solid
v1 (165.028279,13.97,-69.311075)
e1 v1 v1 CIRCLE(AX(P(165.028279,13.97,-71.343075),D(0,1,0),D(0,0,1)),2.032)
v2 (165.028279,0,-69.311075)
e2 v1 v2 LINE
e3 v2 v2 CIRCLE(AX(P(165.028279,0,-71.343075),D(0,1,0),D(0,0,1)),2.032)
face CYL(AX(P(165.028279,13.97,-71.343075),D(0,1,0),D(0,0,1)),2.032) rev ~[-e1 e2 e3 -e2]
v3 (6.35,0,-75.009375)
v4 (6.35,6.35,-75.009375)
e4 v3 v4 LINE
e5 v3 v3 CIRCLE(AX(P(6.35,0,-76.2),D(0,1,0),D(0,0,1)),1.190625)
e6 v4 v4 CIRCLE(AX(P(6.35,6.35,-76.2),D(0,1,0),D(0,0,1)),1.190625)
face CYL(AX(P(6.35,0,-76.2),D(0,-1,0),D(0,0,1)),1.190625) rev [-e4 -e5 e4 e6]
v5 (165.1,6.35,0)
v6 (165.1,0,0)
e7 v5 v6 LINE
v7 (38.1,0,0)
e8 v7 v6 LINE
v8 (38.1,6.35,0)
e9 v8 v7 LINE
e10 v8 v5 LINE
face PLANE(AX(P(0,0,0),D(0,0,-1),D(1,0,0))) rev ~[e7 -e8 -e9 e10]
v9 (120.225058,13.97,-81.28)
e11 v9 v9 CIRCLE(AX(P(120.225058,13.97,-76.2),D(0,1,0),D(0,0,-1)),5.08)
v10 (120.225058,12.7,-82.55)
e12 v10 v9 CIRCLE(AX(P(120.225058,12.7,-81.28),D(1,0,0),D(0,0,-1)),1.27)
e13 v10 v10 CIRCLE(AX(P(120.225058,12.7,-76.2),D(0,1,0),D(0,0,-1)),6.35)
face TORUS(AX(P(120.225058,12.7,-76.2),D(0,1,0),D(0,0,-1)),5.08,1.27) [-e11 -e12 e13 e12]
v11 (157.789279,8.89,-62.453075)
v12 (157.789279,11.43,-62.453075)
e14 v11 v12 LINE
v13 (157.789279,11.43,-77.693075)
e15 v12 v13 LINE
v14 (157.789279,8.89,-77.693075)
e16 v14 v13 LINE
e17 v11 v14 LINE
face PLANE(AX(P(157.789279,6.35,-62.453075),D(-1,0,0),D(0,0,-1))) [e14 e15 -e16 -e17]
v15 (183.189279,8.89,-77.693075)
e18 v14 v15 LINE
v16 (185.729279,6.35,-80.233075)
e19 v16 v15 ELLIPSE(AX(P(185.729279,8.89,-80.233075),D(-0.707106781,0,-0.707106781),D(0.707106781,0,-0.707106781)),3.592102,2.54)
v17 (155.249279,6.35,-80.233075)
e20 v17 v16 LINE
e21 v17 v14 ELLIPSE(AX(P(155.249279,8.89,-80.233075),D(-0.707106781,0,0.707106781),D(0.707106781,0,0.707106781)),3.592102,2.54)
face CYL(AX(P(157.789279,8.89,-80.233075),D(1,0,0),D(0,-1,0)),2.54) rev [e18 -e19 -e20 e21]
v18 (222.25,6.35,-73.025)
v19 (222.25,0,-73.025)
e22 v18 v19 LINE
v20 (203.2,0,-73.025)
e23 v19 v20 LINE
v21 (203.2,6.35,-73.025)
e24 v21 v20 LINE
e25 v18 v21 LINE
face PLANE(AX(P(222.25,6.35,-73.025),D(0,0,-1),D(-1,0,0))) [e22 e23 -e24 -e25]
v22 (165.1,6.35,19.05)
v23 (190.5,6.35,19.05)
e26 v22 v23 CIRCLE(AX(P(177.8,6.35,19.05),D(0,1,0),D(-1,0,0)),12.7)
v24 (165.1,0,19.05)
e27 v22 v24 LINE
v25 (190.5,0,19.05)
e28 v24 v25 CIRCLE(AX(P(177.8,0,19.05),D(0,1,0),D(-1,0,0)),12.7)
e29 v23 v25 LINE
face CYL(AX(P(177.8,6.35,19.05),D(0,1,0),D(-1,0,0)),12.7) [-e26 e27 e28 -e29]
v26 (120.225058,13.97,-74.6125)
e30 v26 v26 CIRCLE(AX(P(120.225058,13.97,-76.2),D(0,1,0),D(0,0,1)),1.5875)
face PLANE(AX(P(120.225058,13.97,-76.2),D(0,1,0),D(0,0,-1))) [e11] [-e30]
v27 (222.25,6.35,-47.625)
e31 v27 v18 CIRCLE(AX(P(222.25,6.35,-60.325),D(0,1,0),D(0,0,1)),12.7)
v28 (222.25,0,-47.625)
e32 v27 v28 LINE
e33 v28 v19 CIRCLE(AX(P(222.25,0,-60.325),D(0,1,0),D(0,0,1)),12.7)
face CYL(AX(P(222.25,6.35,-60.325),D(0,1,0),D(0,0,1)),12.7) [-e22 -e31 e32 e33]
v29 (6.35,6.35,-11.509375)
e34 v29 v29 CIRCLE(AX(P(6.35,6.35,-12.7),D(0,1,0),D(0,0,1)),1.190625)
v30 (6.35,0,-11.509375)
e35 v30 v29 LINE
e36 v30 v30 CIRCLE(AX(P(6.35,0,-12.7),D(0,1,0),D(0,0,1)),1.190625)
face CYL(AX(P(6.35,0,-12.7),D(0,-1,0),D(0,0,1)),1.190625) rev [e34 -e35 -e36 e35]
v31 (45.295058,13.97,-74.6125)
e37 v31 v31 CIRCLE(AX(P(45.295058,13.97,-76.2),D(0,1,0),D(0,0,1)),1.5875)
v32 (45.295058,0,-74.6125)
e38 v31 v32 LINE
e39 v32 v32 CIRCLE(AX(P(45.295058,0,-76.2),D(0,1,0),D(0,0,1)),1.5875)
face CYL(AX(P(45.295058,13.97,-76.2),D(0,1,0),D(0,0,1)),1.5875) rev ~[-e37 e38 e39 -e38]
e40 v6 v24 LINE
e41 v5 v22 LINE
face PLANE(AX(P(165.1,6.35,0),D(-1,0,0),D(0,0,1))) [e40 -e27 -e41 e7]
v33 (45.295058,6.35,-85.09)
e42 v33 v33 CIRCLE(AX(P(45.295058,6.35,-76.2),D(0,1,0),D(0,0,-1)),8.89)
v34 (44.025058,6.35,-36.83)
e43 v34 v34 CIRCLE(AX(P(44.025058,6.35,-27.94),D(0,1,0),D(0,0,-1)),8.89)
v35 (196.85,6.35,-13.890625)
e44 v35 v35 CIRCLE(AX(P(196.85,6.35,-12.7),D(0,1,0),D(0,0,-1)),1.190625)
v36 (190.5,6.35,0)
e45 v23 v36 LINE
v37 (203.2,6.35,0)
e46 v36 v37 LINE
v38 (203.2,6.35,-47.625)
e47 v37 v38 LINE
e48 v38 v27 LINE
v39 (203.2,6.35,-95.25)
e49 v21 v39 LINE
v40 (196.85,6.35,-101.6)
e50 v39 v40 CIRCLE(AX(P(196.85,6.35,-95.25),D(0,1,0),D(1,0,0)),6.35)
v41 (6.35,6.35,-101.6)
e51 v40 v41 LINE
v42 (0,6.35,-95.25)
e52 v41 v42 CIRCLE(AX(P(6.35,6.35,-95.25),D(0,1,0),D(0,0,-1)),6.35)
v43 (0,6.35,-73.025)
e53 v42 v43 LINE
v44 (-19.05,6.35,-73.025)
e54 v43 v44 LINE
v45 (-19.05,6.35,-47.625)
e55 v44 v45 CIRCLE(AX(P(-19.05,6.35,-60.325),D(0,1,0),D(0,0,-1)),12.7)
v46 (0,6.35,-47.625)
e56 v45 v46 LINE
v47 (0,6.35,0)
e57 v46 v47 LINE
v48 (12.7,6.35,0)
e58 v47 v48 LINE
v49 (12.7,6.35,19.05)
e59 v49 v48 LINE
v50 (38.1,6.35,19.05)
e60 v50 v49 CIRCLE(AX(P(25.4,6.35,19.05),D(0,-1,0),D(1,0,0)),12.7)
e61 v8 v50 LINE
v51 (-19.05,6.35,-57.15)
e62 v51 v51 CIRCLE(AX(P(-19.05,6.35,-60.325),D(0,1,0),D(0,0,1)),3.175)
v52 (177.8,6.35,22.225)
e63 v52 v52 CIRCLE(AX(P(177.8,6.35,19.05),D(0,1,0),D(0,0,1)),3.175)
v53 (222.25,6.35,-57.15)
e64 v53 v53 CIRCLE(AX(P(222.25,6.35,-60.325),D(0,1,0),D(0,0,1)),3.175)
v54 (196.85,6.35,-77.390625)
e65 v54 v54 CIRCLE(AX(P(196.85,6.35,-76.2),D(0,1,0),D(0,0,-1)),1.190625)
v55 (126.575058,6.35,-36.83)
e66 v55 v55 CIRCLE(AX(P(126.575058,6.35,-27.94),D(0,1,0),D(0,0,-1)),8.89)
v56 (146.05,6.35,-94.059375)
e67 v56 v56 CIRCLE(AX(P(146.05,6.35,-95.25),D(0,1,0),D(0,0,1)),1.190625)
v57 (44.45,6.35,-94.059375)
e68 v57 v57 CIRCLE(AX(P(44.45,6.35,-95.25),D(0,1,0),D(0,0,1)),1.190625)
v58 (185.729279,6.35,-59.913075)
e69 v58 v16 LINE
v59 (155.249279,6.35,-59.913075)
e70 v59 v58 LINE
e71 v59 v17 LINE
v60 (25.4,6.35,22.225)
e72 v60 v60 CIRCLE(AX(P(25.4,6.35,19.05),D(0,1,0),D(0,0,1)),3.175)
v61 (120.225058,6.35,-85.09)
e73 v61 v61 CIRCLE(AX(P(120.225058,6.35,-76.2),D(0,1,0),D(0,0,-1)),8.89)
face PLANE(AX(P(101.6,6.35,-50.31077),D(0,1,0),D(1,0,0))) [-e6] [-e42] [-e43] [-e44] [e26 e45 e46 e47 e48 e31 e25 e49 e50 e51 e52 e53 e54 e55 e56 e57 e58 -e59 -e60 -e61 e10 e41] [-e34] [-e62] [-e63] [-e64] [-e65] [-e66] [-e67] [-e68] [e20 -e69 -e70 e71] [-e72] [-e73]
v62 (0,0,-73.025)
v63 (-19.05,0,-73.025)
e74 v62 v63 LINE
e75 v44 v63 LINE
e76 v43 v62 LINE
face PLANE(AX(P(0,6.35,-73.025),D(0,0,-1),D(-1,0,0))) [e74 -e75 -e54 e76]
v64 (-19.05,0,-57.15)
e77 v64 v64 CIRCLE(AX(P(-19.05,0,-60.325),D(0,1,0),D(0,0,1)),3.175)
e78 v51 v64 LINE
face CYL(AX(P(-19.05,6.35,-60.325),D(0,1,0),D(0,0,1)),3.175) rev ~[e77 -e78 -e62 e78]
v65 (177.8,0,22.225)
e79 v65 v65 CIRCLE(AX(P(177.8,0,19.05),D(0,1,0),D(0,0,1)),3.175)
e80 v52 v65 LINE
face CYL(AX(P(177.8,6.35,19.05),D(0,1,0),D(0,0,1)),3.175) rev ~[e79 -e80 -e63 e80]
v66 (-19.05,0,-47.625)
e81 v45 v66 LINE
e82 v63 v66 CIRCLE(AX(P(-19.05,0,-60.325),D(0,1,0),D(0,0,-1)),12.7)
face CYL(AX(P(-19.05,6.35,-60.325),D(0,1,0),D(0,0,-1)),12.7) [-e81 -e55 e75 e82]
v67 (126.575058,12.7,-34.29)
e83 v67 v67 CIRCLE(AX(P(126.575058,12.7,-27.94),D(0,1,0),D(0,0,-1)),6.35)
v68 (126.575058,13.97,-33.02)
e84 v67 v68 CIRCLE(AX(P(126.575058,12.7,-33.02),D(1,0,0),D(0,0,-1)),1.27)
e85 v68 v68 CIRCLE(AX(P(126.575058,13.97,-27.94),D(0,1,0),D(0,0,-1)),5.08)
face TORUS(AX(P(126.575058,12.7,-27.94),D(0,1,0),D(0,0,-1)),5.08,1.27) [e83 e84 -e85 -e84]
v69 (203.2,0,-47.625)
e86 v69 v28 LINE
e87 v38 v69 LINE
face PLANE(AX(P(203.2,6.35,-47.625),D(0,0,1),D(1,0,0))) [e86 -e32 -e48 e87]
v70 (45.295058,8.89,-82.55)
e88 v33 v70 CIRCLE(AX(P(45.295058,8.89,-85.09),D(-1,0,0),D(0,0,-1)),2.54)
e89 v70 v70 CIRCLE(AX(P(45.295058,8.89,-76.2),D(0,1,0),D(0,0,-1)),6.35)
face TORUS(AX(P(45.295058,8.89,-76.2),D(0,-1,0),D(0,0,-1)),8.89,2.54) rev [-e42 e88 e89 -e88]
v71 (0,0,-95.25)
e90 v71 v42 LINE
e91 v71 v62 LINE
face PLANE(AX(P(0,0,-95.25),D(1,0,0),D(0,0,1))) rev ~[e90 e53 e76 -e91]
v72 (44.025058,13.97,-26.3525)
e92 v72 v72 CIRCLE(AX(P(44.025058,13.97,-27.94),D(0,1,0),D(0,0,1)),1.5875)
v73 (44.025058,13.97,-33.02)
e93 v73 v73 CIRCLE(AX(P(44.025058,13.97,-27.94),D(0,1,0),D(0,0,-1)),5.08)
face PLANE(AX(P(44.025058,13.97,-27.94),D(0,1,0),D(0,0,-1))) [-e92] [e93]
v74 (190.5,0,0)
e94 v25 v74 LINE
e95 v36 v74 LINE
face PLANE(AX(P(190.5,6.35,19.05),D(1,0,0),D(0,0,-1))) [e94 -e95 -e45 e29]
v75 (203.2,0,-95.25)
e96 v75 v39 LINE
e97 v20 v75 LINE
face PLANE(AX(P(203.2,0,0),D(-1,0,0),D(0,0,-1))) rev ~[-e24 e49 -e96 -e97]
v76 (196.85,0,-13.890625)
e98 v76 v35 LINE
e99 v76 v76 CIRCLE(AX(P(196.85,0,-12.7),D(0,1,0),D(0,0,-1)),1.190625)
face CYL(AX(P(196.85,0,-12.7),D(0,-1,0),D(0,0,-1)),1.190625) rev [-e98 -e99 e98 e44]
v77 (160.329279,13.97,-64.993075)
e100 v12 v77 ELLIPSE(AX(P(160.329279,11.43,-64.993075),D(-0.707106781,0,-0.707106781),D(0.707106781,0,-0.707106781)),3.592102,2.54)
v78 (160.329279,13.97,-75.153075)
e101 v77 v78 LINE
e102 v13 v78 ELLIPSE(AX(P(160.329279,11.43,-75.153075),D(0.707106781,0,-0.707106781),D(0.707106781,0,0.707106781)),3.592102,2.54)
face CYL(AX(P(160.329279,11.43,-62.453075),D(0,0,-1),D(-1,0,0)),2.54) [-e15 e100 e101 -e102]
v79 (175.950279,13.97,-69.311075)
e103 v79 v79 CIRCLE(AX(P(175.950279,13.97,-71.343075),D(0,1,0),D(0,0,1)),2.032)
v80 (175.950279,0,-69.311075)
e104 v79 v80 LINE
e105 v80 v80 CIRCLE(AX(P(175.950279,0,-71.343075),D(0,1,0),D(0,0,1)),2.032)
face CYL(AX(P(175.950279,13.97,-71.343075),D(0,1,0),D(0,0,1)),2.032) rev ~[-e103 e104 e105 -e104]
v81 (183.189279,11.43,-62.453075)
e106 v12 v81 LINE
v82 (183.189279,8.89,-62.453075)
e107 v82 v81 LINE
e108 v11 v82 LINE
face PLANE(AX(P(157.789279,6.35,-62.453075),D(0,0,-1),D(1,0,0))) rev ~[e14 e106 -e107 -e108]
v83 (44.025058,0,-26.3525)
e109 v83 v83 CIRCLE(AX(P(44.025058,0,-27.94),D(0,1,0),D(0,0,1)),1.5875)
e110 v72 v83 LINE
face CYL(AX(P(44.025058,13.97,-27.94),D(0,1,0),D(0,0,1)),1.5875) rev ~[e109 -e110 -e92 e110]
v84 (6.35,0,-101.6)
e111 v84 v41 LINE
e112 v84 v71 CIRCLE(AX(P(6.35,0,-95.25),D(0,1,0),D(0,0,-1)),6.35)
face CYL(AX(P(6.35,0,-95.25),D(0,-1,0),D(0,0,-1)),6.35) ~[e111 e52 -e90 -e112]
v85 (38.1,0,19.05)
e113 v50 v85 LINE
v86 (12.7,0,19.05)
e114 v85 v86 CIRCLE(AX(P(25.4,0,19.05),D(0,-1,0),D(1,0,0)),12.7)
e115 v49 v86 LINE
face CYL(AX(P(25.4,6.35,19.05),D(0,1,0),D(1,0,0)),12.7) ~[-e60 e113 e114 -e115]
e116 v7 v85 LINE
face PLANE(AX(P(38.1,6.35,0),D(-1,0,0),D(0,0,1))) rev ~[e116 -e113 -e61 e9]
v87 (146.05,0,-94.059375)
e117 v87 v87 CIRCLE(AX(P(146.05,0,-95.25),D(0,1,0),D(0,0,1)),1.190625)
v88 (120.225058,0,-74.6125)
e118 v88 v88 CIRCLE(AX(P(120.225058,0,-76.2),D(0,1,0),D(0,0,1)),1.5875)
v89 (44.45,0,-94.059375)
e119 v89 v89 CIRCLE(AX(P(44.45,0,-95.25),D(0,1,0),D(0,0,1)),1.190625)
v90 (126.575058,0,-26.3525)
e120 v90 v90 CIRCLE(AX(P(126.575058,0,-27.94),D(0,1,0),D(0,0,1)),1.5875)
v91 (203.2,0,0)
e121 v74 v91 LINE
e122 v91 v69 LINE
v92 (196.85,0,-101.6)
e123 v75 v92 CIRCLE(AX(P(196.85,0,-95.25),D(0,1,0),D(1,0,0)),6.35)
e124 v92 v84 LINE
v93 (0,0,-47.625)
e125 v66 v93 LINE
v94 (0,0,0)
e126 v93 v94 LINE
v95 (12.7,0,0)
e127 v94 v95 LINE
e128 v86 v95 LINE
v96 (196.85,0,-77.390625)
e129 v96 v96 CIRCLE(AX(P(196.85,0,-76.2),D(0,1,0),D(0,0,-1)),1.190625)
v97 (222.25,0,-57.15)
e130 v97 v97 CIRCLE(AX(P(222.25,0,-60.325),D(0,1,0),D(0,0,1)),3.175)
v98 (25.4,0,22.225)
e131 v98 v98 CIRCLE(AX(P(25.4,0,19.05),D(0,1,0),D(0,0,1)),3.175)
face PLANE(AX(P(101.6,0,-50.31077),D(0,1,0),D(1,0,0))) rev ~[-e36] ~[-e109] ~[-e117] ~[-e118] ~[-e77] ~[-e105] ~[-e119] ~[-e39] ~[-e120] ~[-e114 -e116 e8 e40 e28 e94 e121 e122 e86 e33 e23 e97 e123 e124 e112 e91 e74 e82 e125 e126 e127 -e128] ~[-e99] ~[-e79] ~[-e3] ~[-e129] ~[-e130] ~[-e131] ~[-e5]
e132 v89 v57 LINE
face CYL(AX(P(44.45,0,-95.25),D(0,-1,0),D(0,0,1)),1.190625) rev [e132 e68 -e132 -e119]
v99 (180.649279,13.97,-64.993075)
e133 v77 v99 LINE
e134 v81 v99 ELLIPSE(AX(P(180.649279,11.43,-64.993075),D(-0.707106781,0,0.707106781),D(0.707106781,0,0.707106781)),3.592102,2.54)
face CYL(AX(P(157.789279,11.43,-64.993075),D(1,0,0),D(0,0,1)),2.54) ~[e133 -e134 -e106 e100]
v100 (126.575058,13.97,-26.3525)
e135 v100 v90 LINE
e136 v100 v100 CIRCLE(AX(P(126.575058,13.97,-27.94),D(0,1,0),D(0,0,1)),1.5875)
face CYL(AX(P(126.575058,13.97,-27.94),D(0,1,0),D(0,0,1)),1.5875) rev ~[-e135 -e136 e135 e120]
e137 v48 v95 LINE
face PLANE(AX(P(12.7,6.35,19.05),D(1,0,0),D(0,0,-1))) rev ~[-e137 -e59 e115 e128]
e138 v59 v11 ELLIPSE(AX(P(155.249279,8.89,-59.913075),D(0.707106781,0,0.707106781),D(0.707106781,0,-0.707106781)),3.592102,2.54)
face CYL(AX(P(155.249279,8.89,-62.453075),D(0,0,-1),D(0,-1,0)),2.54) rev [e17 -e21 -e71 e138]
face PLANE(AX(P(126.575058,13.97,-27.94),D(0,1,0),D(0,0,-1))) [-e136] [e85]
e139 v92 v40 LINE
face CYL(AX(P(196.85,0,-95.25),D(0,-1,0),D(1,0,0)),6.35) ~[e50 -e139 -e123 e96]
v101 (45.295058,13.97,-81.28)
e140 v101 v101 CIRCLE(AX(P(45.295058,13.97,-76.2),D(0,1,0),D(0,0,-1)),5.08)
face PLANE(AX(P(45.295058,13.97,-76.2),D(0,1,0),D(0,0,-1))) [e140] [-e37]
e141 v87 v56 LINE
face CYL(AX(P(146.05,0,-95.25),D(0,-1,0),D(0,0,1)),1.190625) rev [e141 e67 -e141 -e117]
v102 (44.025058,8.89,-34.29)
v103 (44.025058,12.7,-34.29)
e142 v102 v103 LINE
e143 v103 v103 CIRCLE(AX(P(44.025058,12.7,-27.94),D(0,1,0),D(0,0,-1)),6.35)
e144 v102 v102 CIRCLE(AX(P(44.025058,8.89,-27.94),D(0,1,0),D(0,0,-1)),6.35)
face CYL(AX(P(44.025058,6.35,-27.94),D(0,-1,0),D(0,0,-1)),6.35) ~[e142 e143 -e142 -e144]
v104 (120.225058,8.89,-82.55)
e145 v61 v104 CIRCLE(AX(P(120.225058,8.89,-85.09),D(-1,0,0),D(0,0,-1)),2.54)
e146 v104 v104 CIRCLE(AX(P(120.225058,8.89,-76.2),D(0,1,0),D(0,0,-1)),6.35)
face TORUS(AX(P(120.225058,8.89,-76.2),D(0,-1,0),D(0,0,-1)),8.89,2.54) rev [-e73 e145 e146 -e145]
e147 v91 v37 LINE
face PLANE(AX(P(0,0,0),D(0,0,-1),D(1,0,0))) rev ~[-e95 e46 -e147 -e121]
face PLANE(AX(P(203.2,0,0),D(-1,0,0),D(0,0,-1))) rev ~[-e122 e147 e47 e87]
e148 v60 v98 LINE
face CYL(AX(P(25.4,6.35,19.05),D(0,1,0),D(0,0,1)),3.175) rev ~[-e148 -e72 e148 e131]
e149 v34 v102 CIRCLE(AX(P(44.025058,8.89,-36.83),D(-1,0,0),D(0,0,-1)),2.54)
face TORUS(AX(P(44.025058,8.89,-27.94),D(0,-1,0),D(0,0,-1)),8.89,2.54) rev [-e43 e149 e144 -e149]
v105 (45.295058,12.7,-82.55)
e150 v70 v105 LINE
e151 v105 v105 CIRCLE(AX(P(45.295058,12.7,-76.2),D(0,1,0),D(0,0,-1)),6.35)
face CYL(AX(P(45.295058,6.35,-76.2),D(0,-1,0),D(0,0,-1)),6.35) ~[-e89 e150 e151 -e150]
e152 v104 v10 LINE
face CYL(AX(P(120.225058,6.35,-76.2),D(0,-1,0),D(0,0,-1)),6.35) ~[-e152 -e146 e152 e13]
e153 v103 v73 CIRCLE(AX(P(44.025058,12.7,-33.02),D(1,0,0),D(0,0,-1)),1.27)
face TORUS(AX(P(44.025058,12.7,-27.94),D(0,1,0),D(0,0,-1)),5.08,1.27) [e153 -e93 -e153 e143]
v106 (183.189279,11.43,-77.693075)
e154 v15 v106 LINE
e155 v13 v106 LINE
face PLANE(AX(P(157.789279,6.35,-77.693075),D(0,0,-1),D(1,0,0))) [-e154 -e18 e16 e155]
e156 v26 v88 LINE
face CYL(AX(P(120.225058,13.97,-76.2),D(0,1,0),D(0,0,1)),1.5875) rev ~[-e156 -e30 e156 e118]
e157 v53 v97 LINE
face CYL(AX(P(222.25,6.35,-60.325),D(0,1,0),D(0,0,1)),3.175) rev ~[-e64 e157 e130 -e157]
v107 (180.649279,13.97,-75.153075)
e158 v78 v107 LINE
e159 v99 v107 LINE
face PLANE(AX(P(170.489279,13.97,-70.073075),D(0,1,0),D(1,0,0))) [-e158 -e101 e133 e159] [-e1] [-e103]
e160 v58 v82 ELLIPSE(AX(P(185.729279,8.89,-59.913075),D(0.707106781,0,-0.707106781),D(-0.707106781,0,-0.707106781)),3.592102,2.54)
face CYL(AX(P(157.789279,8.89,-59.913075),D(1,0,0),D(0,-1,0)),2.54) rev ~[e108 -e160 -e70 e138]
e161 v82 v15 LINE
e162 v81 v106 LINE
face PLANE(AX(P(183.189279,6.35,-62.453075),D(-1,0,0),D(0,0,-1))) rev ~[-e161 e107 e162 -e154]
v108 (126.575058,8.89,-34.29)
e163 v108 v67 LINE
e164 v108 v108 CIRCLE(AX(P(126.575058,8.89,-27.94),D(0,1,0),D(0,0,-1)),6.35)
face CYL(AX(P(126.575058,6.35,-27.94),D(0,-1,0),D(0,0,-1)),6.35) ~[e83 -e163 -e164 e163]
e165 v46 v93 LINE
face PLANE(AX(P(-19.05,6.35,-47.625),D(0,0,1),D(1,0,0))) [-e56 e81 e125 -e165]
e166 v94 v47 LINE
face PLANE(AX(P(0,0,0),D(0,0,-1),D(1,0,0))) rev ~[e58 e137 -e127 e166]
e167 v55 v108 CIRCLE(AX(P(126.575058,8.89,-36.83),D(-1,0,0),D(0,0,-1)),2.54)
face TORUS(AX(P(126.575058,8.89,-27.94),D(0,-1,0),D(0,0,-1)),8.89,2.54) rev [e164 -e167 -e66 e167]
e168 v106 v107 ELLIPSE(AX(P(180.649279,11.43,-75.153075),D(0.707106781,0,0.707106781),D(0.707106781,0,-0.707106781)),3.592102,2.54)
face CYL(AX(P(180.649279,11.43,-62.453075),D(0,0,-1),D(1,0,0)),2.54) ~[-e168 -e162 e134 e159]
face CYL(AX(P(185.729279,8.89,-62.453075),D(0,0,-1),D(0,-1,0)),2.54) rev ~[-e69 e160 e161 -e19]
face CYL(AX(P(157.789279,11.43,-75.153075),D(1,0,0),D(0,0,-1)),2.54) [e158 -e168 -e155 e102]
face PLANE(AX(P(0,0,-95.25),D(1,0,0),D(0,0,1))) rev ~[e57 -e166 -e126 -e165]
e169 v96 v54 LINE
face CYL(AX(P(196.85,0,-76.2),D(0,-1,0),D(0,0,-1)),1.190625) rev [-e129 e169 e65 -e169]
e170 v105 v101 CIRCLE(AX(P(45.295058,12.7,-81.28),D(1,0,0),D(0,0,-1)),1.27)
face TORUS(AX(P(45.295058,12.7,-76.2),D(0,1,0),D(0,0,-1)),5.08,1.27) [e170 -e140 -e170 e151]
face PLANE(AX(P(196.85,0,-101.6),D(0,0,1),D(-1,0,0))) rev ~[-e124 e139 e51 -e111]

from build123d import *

# Parameters (mm, degrees)
SKETCH1_R           = 1.190625
BOSS_EXTRUDE1_DEPTH = 6.35
SKETCH2_R           = 6.35
BOSS_EXTRUDE2_DEPTH = 7.62
FILLET1_R           = 2.54
FILLET2_R           = 1.27
SKETCH5_R           = 1.5875
CUT_EXTRUDE1_DEPTH  = 228.613621956
SKETCH6_R           = 3.175
BOSS_EXTRUDE3_DEPTH = 6.35
SKETCH7_W           = 25.4
SKETCH7_H           = 15.24
BOSS_EXTRUDE4_DEPTH = 7.62
SKETCH9_R           = 2.032
CUT_EXTRUDE2_DEPTH  = 257.35760843
FILLET3_R           = 2.54


with BuildPart() as part:
    # Sketch1 → Boss-Extrude1 (new body)
    with BuildSketch(Plane(origin=(0, 0, 0), x_dir=(1, 0, 0), z_dir=(0, 1, 0))):
        with BuildLine():
            Line((0, 0), (203.2, 0))
            Line((203.2, 0), (203.2, 95.25))
            ThreePointArc((203.2, 95.25), (201.340128061, 99.740128061), (196.85, 101.6))
            Line((196.85, 101.6), (6.35, 101.6))
            ThreePointArc((6.35, 101.6), (1.859871939, 99.740128061), (0, 95.25))
            Line((0, 95.25), (0, 0))
        make_face()
        with Locations(Location((6.35, 12.7, 0), (0, 0, 270))):
            Circle(SKETCH1_R, mode=Mode.SUBTRACT)
        with Locations(Location((196.85, 76.2, 0), (0, 0, 90))):
            Circle(SKETCH1_R, mode=Mode.SUBTRACT)
        with Locations(Location((6.35, 76.2, 0), (0, 0, 270))):
            Circle(SKETCH1_R, mode=Mode.SUBTRACT)
        with Locations(Location((44.45, 95.25, 0), (0, 0, 270))):
            Circle(SKETCH1_R, mode=Mode.SUBTRACT)
        with Locations(Location((146.05, 95.25, 0), (0, 0, 270))):
            Circle(SKETCH1_R, mode=Mode.SUBTRACT)
        with Locations(Location((196.85, 12.7, 0), (0, 0, 90))):
            Circle(SKETCH1_R, mode=Mode.SUBTRACT)
    extrude(amount=BOSS_EXTRUDE1_DEPTH)

    # Sketch2 → Boss-Extrude2 (add)
    with BuildSketch(Plane(origin=(0, 6.35, 0), x_dir=(1, 0, 0), z_dir=(0, 1, 0))):
        with Locations(Location((45.295058165, 76.2, 0), (0, 0, 90))):
            Circle(SKETCH2_R)
        with Locations(Location((120.225058165, 76.2, 0), (0, 0, 90))):
            Circle(SKETCH2_R)
        with Locations(Location((44.025058165, 27.94, 0), (0, 0, 90))):
            Circle(SKETCH2_R)
        with Locations(Location((126.575058165, 27.94, 0), (0, 0, 90))):
            Circle(SKETCH2_R)
    extrude(amount=BOSS_EXTRUDE2_DEPTH)

    # Fillet1
    fillet1_edges = [part.edges().sort_by_distance(p)[0] for p in [
        (45.295058165, 6.35, -69.85),
        (120.225058165, 6.35, -69.85),
        (44.025058165, 6.35, -21.59),
        (126.575058165, 6.35, -21.59),
    ]]
    fillet(fillet1_edges, radius=FILLET1_R)

    # Fillet2
    fillet2_edges = [part.edges().sort_by_distance(p)[0] for p in [
        (45.295058165, 13.97, -69.85),
        (120.225058165, 13.97, -69.85),
        (44.025058165, 13.97, -21.59),
        (126.575058165, 13.97, -21.59),
    ]]
    fillet(fillet2_edges, radius=FILLET2_R)

    # Sketch5 → Cut-Extrude1 (cut, through all)
    with BuildSketch(Plane(origin=(0, 13.97, 0), x_dir=(1, 0, 0), z_dir=(0, 1, 0))):
        with Locations(Location((45.295058165, 76.2, 0), (0, 0, 270))):
            Circle(SKETCH5_R)
        with Locations(Location((120.225058165, 76.2, 0), (0, 0, 270))):
            Circle(SKETCH5_R)
        with Locations(Location((126.575058165, 27.94, 0), (0, 0, 270))):
            Circle(SKETCH5_R)
        with Locations(Location((44.025058165, 27.94, 0), (0, 0, 270))):
            Circle(SKETCH5_R)
    extrude(amount=-CUT_EXTRUDE1_DEPTH, mode=Mode.SUBTRACT)

    # Sketch6 → Boss-Extrude3 (add)
    # profile 1 of 4: a face of its own
    with BuildSketch(Plane(origin=(0, 6.35, 0), x_dir=(1, 0, 0), z_dir=(0, 1, 0))):
        with BuildLine():
            Line((0, 73.025), (-19.05, 73.025))
            ThreePointArc((-19.05, 73.025), (-31.75, 60.325), (-19.05, 47.625))
            Line((-19.05, 47.625), (0, 47.625))
            Line((0, 47.625), (0, 73.025))
        make_face()
        with Locations(Location((-19.05, 60.325, 0), (0, 0, 270))):
            Circle(SKETCH6_R, mode=Mode.SUBTRACT)
    # profile 2 of 4: a face of its own
    with BuildSketch(Plane(origin=(0, 6.35, 0), x_dir=(1, 0, 0), z_dir=(0, 1, 0))):
        with BuildLine():
            Line((12.7, 0), (38.1, 0))
            Line((38.1, 0), (38.1, -19.05))
            ThreePointArc((38.1, -19.05), (25.4, -31.75), (12.7, -19.05))
            Line((12.7, -19.05), (12.7, 0))
        make_face()
        with Locations(Location((25.4, -19.05, 0), (0, 0, 270))):
            Circle(SKETCH6_R, mode=Mode.SUBTRACT)
    # profile 3 of 4: a face of its own
    with BuildSketch(Plane(origin=(0, 6.35, 0), x_dir=(1, 0, 0), z_dir=(0, 1, 0))):
        with BuildLine():
            Line((190.5, 0), (165.1, 0))
            Line((165.1, 0), (165.1, -19.05))
            ThreePointArc((165.1, -19.05), (177.8, -31.75), (190.5, -19.05))
            Line((190.5, -19.05), (190.5, 0))
        make_face()
        with Locations(Location((177.8, -19.05, 0), (0, 0, 270))):
            Circle(SKETCH6_R, mode=Mode.SUBTRACT)
    # profile 4 of 4: a face of its own
    with BuildSketch(Plane(origin=(0, 6.35, 0), x_dir=(1, 0, 0), z_dir=(0, 1, 0))):
        with BuildLine():
            Line((203.2, 47.625), (222.25, 47.625))
            ThreePointArc((222.25, 47.625), (234.95, 60.325), (222.25, 73.025))
            Line((222.25, 73.025), (203.2, 73.025))
            Line((203.2, 73.025), (203.2, 47.625))
        make_face()
        with Locations(Location((222.25, 60.325, 0), (0, 0, 270))):
            Circle(SKETCH6_R, mode=Mode.SUBTRACT)
    extrude(amount=-BOSS_EXTRUDE3_DEPTH)

    # Sketch7 → Boss-Extrude4 (add)
    with BuildSketch(Plane(origin=(0, 6.35, 0), x_dir=(1, 0, 0), z_dir=(0, 1, 0))):
        with Locations((170.489279239, 70.073074686)):
            Rectangle(SKETCH7_W, SKETCH7_H)
    extrude(amount=BOSS_EXTRUDE4_DEPTH)

    # Sketch9 → Cut-Extrude2 (cut, through all)
    with BuildSketch(Plane(origin=(0, 13.97, 0), x_dir=(1, 0, 0), z_dir=(0, 1, 0))):
        with Locations(Location((175.950279239, 71.343074686, 0), (0, 0, 270))):
            Circle(SKETCH9_R)
        with Locations(Location((165.028279239, 71.343074686, 0), (0, 0, 270))):
            Circle(SKETCH9_R)
    extrude(amount=-CUT_EXTRUDE2_DEPTH, mode=Mode.SUBTRACT)

    # Fillet3
    fillet3_edges = [part.edges().sort_by_distance(p)[0] for p in [
        (183.189279239, 6.35, -70.073074686),
        (170.489279239, 6.35, -77.693074686),
        (157.789279239, 6.35, -70.073074686),
        (170.489279239, 6.35, -62.453074686),
        (170.489279239, 13.97, -62.453074686),
        (183.189279239, 13.97, -70.073074686),
        (170.489279239, 13.97, -77.693074686),
        (157.789279239, 13.97, -70.073074686),
    ]]
    fillet(fillet3_edges, radius=FILLET3_R)


solid = part.part
